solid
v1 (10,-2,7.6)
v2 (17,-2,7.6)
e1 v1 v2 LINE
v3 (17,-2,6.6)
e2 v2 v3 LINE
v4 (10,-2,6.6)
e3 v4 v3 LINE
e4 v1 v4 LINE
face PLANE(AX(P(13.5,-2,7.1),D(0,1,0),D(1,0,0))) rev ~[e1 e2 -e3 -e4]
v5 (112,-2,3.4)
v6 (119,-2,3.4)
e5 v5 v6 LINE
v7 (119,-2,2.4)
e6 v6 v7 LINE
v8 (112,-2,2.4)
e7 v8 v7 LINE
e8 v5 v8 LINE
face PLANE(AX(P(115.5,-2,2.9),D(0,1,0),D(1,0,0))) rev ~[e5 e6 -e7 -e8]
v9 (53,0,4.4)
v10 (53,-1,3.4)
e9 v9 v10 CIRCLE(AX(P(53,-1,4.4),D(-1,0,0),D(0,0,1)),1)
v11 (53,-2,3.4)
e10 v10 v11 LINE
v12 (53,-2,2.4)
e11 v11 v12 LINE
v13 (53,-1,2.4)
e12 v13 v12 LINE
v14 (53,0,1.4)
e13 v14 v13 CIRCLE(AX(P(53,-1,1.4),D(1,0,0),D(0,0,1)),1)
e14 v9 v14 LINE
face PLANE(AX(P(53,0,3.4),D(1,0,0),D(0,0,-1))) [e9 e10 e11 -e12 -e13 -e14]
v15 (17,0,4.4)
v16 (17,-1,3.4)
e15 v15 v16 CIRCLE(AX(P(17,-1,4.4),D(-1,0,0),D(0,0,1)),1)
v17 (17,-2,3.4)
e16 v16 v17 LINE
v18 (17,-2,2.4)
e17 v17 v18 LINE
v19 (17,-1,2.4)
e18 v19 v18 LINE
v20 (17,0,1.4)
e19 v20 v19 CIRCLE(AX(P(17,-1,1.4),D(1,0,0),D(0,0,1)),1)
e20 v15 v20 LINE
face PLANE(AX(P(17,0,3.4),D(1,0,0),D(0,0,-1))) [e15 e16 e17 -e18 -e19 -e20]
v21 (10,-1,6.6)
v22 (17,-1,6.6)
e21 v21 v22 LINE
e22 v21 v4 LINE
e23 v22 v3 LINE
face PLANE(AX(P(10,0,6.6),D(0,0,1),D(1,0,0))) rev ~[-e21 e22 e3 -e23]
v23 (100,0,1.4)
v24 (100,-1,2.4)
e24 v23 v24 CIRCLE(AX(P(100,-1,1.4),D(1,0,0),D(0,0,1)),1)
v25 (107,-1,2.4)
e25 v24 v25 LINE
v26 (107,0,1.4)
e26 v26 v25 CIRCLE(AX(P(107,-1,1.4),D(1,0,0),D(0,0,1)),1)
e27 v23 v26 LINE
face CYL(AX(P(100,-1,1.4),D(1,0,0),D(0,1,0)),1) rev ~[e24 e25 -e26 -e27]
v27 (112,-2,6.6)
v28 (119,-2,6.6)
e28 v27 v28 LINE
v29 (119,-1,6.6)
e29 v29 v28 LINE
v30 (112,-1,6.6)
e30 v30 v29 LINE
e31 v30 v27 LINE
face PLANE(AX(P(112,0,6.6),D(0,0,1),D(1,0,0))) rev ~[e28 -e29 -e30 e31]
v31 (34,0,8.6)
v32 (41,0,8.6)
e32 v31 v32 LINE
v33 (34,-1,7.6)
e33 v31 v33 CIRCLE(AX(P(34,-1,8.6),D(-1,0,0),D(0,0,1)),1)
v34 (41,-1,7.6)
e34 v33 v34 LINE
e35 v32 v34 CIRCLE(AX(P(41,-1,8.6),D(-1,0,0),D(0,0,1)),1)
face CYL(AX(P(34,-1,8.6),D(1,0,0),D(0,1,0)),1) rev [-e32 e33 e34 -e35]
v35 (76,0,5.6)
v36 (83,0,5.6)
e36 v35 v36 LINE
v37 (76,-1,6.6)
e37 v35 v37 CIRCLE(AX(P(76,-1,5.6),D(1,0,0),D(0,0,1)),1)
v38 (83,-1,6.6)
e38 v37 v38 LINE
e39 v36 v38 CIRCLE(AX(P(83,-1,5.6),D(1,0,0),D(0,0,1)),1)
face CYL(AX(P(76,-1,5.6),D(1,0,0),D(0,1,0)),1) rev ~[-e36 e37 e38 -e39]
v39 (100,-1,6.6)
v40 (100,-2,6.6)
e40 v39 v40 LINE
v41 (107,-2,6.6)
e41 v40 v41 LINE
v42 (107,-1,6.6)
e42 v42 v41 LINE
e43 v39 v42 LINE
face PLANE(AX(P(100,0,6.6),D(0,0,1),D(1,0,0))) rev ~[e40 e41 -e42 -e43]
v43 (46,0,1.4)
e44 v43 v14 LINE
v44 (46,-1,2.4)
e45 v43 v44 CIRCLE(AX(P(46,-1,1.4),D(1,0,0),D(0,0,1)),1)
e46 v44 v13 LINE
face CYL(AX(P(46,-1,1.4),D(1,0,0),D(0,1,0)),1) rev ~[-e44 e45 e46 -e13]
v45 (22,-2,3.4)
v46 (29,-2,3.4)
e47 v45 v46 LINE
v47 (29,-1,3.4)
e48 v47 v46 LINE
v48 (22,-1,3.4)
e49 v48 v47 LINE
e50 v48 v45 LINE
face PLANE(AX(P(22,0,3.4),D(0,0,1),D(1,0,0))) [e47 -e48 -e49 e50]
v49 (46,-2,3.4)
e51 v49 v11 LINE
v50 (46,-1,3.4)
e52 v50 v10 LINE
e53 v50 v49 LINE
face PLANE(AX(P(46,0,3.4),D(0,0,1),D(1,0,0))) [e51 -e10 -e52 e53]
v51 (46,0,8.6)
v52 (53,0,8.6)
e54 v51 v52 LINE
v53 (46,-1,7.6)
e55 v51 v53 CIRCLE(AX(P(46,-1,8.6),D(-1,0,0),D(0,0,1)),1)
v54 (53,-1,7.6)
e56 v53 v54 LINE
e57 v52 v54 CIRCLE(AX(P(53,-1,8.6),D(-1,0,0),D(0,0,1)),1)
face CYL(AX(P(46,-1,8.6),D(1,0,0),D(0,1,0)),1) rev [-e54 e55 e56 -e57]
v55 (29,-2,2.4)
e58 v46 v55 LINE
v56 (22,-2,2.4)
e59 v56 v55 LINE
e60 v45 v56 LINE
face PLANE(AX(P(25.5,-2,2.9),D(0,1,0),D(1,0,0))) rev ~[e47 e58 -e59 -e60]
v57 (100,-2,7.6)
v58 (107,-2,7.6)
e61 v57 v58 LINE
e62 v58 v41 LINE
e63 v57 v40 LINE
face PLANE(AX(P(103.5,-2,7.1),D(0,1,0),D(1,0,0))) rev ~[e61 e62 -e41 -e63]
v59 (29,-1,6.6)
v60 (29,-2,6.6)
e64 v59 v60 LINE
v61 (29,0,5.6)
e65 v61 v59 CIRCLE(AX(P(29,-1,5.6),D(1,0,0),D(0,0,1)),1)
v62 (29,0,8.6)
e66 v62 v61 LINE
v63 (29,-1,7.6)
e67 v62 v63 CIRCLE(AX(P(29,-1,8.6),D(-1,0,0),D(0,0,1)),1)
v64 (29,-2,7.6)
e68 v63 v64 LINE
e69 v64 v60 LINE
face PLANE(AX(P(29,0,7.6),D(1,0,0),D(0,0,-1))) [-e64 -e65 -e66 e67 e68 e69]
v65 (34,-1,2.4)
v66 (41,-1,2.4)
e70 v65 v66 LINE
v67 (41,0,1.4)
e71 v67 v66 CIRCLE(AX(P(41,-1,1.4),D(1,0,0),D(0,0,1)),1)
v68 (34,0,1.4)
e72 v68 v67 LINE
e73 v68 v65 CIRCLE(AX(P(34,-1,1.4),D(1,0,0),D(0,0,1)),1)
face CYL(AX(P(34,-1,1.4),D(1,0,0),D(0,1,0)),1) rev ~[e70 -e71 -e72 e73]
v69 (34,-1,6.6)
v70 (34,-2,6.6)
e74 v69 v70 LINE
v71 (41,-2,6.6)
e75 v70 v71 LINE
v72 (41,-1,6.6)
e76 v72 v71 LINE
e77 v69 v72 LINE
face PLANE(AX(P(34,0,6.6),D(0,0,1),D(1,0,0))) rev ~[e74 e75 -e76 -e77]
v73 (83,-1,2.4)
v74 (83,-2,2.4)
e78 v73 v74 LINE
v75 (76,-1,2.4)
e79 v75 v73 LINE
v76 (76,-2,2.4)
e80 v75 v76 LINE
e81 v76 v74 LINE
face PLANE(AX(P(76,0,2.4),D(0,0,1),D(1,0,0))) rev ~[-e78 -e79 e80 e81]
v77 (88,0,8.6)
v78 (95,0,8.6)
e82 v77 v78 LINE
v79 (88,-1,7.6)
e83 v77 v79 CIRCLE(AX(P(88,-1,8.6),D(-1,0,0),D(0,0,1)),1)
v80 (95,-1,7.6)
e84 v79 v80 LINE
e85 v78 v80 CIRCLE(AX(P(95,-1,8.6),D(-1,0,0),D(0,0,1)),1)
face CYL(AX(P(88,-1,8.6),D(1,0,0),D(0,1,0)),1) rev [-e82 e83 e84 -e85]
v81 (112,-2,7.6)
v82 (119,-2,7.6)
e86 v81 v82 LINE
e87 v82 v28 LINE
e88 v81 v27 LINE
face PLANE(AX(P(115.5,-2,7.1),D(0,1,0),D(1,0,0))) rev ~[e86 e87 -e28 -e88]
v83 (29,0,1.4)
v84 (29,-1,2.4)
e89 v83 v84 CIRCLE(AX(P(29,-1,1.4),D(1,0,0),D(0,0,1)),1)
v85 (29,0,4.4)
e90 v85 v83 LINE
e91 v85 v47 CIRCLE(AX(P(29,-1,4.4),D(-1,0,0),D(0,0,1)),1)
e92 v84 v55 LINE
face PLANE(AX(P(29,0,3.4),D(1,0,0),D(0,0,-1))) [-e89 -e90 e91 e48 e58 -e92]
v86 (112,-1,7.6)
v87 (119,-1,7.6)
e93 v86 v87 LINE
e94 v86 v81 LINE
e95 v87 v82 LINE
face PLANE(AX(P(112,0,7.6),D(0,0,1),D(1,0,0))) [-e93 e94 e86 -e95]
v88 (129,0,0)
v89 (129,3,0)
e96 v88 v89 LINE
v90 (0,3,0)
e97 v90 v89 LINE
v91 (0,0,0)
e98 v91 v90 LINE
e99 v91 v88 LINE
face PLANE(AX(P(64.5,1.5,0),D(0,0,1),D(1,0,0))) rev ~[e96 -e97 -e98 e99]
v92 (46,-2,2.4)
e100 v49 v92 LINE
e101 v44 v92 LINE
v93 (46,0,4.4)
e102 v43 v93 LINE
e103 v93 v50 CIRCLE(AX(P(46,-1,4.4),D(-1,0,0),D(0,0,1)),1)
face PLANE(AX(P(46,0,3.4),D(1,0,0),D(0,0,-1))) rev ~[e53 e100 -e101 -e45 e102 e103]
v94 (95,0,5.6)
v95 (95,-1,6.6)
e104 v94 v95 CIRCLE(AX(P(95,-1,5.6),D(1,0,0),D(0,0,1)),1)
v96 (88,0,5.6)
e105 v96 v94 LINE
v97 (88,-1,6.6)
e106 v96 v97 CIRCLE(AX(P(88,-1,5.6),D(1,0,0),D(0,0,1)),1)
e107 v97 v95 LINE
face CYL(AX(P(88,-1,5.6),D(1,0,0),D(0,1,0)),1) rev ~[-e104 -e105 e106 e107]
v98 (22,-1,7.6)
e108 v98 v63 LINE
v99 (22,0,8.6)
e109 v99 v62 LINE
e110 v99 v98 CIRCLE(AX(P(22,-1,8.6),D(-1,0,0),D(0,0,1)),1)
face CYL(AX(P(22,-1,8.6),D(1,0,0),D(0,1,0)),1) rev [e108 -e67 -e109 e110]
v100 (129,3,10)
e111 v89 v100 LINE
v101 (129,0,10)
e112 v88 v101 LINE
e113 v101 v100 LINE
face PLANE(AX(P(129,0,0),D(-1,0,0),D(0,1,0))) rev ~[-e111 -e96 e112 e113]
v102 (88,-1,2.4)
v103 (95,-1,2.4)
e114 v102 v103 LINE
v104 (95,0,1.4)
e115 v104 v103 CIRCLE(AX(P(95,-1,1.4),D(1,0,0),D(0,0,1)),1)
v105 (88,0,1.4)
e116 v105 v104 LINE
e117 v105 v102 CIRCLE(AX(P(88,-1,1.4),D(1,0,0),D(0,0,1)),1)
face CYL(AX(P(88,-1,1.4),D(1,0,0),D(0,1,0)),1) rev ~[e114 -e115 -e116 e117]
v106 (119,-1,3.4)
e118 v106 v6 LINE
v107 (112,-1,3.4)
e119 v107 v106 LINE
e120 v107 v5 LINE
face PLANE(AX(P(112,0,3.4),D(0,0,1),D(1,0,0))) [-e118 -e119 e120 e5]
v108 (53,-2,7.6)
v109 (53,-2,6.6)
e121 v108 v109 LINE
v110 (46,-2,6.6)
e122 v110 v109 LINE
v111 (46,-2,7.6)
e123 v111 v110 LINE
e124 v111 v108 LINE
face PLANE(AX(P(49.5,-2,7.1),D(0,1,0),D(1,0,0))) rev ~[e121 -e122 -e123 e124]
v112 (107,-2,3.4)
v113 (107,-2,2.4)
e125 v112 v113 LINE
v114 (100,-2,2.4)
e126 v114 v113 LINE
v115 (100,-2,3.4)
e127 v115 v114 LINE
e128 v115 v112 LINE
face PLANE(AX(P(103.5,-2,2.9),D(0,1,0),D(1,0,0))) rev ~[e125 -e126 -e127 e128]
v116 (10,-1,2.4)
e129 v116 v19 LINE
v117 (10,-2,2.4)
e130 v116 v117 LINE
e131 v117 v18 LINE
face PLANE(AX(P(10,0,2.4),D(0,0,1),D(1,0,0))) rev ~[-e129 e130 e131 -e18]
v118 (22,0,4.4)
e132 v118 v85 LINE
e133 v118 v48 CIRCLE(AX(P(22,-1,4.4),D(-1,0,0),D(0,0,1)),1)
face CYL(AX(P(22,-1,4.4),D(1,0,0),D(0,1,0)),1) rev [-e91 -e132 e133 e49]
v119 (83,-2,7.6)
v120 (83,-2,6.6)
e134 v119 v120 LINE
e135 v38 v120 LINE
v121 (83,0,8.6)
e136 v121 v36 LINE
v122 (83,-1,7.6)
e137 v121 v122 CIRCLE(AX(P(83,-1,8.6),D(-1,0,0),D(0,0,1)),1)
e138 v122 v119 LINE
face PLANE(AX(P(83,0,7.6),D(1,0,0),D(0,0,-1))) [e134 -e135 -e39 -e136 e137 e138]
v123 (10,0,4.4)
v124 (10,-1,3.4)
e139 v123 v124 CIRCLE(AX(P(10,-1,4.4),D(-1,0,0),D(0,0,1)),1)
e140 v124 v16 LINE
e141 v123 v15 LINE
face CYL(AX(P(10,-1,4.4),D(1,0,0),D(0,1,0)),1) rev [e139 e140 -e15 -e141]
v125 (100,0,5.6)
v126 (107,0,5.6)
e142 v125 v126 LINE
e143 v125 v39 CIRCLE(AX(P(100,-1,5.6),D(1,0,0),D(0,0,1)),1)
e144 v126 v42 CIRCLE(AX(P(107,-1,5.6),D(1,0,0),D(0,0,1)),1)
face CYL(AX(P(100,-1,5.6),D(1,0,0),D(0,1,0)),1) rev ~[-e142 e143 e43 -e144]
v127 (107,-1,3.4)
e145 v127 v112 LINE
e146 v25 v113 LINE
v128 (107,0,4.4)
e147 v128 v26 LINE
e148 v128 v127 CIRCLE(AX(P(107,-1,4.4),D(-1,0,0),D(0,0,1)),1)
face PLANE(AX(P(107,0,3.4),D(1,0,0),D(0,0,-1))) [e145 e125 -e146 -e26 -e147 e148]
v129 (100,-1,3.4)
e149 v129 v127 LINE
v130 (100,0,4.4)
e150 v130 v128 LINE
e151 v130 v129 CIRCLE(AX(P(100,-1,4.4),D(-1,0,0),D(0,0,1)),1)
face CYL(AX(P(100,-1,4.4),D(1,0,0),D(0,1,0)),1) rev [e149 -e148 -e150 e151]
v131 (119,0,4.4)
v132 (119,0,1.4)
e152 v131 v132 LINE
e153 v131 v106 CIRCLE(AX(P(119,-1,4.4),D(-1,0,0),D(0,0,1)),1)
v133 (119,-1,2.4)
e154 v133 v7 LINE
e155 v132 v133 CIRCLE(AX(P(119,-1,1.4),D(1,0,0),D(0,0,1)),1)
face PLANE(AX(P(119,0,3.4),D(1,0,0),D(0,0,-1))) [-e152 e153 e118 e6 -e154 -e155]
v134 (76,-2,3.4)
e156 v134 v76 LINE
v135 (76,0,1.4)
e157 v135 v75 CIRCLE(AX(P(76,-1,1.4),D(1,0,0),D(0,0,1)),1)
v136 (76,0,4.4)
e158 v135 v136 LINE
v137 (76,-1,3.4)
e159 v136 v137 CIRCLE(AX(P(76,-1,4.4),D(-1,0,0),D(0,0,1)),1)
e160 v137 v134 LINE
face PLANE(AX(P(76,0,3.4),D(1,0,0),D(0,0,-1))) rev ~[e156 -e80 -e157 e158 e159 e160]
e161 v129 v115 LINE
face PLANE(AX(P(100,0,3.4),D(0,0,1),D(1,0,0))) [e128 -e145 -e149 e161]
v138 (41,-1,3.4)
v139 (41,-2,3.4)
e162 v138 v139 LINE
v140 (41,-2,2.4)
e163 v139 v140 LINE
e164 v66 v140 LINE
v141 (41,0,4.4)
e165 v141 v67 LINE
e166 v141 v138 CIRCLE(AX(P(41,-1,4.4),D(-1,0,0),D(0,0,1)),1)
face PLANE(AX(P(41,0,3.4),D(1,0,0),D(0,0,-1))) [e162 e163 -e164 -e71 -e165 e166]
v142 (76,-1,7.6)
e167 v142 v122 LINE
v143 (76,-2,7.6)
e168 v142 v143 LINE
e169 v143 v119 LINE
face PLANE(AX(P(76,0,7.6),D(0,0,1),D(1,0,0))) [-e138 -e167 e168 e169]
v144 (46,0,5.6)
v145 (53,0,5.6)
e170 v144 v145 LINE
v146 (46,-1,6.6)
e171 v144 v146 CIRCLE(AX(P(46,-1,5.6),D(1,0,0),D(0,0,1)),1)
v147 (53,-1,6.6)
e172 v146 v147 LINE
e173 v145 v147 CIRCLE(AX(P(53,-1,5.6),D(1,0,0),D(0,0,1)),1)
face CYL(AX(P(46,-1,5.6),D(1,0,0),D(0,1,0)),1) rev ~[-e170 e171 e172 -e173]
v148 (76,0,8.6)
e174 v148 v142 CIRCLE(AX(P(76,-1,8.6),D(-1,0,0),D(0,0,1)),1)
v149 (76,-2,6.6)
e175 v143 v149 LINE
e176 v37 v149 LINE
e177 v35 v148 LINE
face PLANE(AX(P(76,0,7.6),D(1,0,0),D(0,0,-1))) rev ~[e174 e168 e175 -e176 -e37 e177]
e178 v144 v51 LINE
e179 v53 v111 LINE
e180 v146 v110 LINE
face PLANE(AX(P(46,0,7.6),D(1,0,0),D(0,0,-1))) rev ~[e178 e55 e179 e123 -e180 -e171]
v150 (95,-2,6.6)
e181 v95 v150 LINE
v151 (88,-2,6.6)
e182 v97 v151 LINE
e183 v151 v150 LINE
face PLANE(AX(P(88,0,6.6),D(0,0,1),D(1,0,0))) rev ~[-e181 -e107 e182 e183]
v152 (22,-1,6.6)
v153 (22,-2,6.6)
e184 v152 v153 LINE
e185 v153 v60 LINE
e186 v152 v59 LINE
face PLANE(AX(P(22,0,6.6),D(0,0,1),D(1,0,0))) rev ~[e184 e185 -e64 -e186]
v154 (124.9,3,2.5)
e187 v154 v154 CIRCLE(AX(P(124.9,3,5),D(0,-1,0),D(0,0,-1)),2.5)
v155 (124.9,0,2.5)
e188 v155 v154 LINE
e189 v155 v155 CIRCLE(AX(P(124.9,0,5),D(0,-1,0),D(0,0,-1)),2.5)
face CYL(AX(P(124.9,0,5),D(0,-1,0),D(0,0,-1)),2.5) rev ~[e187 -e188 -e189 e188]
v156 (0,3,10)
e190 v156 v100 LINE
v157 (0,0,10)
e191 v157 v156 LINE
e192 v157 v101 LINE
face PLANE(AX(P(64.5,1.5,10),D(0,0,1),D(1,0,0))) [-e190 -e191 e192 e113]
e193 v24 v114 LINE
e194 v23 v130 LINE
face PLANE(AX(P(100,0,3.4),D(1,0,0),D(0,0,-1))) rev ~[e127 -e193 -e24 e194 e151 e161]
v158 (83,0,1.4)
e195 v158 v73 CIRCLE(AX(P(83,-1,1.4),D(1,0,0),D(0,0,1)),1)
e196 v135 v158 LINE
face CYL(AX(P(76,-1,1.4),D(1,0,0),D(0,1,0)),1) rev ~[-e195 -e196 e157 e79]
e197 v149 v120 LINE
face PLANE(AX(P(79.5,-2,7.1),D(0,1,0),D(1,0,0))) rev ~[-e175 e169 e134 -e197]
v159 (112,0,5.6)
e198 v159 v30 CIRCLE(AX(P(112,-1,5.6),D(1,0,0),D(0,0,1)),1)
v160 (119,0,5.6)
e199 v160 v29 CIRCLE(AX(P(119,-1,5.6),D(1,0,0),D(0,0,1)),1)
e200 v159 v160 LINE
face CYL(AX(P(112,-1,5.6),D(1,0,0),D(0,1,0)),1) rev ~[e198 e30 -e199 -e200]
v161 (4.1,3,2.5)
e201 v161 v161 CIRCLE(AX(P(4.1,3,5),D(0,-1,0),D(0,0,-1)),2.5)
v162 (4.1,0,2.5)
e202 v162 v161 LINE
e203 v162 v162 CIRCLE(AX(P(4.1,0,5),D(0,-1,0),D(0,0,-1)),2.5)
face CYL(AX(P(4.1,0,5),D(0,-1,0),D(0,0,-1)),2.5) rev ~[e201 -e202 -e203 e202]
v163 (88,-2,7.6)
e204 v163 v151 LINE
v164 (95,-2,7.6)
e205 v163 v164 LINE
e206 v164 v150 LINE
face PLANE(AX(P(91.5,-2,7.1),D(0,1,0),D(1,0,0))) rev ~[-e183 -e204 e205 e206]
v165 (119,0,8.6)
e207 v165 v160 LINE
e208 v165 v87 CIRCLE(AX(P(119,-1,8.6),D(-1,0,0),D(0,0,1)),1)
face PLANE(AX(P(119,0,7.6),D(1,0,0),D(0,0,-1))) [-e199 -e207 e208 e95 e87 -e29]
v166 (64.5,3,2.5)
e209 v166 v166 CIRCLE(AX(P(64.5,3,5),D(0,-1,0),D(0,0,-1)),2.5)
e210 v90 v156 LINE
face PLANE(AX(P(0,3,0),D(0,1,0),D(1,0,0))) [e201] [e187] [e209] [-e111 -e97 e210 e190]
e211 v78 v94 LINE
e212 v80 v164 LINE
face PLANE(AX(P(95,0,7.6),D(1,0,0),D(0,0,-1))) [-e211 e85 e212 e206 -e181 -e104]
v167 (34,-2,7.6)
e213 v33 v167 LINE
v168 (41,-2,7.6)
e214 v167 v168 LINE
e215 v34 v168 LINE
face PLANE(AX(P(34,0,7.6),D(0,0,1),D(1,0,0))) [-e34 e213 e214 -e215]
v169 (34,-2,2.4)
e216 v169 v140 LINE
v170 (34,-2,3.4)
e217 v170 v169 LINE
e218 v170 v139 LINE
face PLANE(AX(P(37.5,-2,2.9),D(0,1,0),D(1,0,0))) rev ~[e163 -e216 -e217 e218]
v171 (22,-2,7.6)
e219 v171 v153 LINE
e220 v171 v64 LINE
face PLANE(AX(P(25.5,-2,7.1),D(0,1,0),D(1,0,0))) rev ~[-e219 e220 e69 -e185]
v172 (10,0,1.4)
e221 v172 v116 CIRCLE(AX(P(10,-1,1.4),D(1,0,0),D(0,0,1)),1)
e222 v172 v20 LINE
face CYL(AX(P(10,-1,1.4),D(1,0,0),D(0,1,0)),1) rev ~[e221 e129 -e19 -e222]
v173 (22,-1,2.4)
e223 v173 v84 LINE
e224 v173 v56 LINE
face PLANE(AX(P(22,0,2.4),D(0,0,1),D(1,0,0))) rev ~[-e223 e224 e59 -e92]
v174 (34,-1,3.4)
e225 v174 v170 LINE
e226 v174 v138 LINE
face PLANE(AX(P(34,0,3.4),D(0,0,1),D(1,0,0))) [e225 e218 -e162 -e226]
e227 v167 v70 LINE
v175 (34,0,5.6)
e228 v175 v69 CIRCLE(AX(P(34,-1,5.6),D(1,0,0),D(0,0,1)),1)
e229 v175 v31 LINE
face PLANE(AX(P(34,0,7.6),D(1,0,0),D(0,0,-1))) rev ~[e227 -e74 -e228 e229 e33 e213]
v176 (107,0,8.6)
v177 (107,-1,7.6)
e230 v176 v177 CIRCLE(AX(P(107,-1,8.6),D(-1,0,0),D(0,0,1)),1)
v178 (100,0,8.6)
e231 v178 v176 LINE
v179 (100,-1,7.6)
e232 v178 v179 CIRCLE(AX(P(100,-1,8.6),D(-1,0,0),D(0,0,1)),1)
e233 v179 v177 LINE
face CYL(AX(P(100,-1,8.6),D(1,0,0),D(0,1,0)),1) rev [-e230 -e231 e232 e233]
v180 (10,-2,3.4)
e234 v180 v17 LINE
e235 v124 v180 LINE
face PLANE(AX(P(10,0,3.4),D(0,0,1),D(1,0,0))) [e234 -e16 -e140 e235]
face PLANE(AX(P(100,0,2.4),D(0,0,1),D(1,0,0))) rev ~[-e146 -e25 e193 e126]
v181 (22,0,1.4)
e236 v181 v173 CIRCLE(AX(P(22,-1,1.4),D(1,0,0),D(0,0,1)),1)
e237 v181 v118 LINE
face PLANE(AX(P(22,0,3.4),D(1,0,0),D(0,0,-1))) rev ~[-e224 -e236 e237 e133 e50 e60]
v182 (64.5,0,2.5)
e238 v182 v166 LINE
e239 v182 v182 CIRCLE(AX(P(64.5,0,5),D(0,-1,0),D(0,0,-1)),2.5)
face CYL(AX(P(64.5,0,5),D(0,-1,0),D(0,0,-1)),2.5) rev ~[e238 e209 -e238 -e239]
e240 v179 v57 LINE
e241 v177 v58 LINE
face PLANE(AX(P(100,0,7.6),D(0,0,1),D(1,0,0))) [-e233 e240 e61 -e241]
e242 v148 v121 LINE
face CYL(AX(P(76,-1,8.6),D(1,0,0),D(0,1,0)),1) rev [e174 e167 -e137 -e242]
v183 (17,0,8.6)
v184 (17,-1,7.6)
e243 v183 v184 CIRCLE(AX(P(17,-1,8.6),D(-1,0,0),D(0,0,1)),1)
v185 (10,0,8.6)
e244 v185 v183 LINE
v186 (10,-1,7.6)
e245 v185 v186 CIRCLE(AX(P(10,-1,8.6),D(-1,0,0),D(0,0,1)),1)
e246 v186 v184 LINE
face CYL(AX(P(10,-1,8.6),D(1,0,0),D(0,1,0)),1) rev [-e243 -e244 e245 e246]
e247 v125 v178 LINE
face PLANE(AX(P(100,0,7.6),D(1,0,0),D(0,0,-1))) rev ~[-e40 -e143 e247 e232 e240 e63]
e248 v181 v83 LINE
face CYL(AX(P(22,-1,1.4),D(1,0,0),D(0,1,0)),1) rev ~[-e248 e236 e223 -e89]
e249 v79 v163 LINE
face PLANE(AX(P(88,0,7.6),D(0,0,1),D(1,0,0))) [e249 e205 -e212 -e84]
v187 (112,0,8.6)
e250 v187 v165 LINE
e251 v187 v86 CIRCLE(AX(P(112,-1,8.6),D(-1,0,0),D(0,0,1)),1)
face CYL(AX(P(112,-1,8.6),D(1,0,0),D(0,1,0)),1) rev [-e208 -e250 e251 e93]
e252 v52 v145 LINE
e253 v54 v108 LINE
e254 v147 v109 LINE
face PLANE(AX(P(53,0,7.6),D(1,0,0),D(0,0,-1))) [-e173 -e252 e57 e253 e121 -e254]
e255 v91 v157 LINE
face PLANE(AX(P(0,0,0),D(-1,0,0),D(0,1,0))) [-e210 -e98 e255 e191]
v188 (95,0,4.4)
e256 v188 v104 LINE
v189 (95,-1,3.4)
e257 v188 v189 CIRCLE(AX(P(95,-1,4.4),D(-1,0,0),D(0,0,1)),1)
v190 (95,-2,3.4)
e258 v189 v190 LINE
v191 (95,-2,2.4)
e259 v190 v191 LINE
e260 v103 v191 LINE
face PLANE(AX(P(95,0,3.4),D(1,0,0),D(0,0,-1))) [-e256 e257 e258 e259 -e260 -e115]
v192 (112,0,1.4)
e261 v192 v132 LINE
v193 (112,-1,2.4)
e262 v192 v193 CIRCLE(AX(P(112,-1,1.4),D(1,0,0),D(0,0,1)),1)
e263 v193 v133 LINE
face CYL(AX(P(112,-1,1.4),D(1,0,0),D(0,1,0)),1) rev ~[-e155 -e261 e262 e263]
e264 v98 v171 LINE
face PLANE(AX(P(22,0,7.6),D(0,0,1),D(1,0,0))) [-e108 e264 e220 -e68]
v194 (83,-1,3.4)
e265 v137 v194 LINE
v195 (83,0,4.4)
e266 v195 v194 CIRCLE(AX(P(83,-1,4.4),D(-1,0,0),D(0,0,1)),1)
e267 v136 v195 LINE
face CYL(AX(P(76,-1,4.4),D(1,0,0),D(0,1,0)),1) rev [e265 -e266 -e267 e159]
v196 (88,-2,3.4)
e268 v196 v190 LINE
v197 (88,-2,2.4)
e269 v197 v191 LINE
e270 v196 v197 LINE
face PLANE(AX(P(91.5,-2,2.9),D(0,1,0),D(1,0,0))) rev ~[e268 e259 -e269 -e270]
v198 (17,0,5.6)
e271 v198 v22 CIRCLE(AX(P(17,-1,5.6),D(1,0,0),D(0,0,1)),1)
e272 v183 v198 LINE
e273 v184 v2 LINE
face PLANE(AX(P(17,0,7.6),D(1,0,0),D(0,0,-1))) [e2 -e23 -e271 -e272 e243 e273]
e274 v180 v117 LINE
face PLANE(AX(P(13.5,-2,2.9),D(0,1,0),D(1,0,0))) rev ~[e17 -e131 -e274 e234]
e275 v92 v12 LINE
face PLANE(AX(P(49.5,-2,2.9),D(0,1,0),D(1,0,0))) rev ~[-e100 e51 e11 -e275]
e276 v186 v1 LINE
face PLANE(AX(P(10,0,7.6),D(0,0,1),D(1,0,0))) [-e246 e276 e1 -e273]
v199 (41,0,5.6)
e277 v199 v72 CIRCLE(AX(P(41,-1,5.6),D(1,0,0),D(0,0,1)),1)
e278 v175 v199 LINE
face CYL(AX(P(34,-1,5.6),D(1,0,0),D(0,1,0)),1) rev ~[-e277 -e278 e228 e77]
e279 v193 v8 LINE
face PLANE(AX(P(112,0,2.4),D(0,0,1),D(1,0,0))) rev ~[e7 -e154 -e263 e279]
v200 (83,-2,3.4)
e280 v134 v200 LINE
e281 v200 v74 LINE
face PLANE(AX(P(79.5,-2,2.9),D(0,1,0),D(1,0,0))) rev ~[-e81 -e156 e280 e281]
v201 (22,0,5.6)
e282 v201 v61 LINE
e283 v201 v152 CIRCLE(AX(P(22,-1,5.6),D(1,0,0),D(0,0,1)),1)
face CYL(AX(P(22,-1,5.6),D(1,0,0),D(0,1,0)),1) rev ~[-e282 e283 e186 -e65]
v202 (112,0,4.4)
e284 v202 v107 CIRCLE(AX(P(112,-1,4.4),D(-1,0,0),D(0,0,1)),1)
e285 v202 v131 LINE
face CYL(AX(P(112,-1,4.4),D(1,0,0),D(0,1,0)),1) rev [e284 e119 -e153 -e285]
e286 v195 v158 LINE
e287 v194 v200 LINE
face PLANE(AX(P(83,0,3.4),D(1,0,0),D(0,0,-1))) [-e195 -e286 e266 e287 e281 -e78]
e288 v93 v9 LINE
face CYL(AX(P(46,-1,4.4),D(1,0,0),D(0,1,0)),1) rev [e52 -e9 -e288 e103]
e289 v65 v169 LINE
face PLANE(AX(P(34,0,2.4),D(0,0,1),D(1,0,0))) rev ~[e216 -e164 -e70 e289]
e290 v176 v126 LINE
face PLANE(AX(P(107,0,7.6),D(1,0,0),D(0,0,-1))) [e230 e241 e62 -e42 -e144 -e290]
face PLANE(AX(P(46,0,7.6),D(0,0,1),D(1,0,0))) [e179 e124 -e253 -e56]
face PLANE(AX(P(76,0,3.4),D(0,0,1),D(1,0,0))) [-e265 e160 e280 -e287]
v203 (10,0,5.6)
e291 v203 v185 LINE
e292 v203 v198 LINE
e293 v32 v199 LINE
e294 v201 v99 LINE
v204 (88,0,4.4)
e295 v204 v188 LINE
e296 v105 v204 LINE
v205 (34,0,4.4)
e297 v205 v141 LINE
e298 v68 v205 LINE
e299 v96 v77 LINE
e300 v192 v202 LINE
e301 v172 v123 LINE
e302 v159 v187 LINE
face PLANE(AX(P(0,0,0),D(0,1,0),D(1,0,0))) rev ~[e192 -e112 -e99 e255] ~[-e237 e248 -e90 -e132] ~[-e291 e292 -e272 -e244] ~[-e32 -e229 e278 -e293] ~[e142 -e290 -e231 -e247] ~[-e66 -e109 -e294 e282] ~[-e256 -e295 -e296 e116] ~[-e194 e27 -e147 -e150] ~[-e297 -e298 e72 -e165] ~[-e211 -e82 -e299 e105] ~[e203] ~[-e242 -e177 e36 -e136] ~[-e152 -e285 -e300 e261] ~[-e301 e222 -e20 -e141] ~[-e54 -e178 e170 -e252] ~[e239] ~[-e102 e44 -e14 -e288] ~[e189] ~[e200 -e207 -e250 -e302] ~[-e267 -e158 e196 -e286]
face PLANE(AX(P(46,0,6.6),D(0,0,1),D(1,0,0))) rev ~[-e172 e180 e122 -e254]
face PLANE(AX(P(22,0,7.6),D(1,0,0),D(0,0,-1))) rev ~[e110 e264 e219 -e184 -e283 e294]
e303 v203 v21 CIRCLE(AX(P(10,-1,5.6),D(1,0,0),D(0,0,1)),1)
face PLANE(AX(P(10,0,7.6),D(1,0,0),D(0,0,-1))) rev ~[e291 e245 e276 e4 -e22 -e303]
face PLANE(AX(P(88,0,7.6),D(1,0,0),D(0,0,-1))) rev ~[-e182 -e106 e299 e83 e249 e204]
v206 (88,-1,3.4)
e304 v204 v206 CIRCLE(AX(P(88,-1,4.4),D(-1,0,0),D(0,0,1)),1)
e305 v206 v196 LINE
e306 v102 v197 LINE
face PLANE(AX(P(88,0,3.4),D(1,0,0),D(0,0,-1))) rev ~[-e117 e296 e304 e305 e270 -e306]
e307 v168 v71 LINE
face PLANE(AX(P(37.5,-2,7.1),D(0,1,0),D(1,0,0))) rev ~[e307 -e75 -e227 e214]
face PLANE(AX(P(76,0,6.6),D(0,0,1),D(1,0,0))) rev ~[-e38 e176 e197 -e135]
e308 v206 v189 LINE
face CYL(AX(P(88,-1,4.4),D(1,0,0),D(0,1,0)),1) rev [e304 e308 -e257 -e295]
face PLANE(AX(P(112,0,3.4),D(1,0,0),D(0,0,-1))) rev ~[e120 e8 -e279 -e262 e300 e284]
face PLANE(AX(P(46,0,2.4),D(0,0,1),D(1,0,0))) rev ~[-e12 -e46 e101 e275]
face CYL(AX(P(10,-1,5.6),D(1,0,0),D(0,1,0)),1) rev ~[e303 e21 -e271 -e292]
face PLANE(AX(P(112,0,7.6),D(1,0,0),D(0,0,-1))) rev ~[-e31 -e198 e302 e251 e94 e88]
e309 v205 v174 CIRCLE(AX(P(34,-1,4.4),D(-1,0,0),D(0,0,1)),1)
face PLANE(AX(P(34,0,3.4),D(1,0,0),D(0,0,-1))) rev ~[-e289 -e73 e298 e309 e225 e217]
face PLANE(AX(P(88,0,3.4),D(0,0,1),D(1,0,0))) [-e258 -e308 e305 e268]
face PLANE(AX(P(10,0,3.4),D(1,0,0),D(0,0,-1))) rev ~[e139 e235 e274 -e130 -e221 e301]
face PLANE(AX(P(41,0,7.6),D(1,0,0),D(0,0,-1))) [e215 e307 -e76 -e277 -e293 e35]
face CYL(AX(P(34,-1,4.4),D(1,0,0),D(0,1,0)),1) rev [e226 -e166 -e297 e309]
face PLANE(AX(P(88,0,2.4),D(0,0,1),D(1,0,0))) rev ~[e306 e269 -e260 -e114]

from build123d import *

# Parameters (mm, degrees)
SKETCH1_W              = 129
SKETCH1_H              = 3
BOSS_EXTRUDE1_DEPTH    = 10
SKETCH2_R              = 2.5
CUT_EXTRUDE1_DEPTH     = 4
SKETCH3_W              = 7
SKETCH3_H              = 1
BOSS_EXTRUDE2_DEPTH    = 2
FILLET1_R              = 1
LPATTERN1_COUNT        = 4
LPATTERN1_PITCH        = 12
FILLET1_OF_LPATTERN1_R = 1


with BuildPart() as part:
    # Sketch1 → Boss-Extrude1 (new body)
    with BuildSketch(Plane.XY):
        with Locations((64.5, 1.5)):
            Rectangle(SKETCH1_W, SKETCH1_H)
    extrude(amount=BOSS_EXTRUDE1_DEPTH)

    # Sketch2 → Cut-Extrude1 (cut, through all)
    with BuildSketch(Plane.XZ):
        with Locations(Location((4.1, 5, 0), (0, 0, 270))):  # turned: the seam where the file's is
            Circle(SKETCH2_R)
        with Locations(Location((64.5, 5, 0), (0, 0, 270))):  # turned: the seam where the file's is
            Circle(SKETCH2_R)
        with Locations(Location((124.9, 5, 0), (0, 0, 270))):  # turned: the seam where the file's is
            Circle(SKETCH2_R)
    extrude(amount=-CUT_EXTRUDE1_DEPTH, mode=Mode.SUBTRACT)

    # Sketch3 → Boss-Extrude2 (add)
    with BuildSketch(Plane(origin=(0, 0, 0), x_dir=(1, 0, 0), z_dir=(0, 1, 0))):
        with Locations((13.5, -2.9)):
            Rectangle(SKETCH3_W, SKETCH3_H)
        with Locations((13.5, -7.1)):
            Rectangle(SKETCH3_W, SKETCH3_H)
        with Locations((79.5, -2.9)):
            Rectangle(SKETCH3_W, SKETCH3_H)
        with Locations((79.5, -7.1)):
            Rectangle(SKETCH3_W, SKETCH3_H)
    boss_extrude2 = extrude(amount=-BOSS_EXTRUDE2_DEPTH)

    # Fillet1
    fillet1_edges = [part.edges().sort_by_distance(p)[0] for p in [
        (13.5, 0, 3.4),
        (13.5, 0, 2.4),
        (13.5, 0, 7.6),
        (13.5, 0, 6.6),
        (79.5, 0, 3.4),
        (79.5, 0, 2.4),
        (79.5, 0, 7.6),
        (79.5, 0, 6.6),
    ]]
    fillet(fillet1_edges, radius=FILLET1_R)

    # LPattern1: Boss-Extrude2 ×4
    with Locations(*[(i * LPATTERN1_PITCH, 0, 0) for i in range(1, LPATTERN1_COUNT)]):
        add(boss_extrude2)

    # Fillet1 of LPattern1
    fillet1_of_lpattern1_edges = [part.edges().sort_by_distance(p)[0] for p in [
        (25.5, 0, 3.4),
        (25.5, 0, 2.4),
        (25.5, 0, 7.6),
        (25.5, 0, 6.6),
        (91.5, 0, 3.4),
        (91.5, 0, 2.4),
        (91.5, 0, 7.6),
        (91.5, 0, 6.6),
        (37.5, 0, 3.4),
        (37.5, 0, 2.4),
        (37.5, 0, 7.6),
        (37.5, 0, 6.6),
        (103.5, 0, 3.4),
        (103.5, 0, 2.4),
        (103.5, 0, 7.6),
        (103.5, 0, 6.6),
        (49.5, 0, 3.4),
        (49.5, 0, 2.4),
        (49.5, 0, 7.6),
        (49.5, 0, 6.6),
        (115.5, 0, 3.4),
        (115.5, 0, 2.4),
        (115.5, 0, 7.6),
        (115.5, 0, 6.6),
    ]]
    fillet(fillet1_of_lpattern1_edges, radius=FILLET1_OF_LPATTERN1_R)


solid = part.part
